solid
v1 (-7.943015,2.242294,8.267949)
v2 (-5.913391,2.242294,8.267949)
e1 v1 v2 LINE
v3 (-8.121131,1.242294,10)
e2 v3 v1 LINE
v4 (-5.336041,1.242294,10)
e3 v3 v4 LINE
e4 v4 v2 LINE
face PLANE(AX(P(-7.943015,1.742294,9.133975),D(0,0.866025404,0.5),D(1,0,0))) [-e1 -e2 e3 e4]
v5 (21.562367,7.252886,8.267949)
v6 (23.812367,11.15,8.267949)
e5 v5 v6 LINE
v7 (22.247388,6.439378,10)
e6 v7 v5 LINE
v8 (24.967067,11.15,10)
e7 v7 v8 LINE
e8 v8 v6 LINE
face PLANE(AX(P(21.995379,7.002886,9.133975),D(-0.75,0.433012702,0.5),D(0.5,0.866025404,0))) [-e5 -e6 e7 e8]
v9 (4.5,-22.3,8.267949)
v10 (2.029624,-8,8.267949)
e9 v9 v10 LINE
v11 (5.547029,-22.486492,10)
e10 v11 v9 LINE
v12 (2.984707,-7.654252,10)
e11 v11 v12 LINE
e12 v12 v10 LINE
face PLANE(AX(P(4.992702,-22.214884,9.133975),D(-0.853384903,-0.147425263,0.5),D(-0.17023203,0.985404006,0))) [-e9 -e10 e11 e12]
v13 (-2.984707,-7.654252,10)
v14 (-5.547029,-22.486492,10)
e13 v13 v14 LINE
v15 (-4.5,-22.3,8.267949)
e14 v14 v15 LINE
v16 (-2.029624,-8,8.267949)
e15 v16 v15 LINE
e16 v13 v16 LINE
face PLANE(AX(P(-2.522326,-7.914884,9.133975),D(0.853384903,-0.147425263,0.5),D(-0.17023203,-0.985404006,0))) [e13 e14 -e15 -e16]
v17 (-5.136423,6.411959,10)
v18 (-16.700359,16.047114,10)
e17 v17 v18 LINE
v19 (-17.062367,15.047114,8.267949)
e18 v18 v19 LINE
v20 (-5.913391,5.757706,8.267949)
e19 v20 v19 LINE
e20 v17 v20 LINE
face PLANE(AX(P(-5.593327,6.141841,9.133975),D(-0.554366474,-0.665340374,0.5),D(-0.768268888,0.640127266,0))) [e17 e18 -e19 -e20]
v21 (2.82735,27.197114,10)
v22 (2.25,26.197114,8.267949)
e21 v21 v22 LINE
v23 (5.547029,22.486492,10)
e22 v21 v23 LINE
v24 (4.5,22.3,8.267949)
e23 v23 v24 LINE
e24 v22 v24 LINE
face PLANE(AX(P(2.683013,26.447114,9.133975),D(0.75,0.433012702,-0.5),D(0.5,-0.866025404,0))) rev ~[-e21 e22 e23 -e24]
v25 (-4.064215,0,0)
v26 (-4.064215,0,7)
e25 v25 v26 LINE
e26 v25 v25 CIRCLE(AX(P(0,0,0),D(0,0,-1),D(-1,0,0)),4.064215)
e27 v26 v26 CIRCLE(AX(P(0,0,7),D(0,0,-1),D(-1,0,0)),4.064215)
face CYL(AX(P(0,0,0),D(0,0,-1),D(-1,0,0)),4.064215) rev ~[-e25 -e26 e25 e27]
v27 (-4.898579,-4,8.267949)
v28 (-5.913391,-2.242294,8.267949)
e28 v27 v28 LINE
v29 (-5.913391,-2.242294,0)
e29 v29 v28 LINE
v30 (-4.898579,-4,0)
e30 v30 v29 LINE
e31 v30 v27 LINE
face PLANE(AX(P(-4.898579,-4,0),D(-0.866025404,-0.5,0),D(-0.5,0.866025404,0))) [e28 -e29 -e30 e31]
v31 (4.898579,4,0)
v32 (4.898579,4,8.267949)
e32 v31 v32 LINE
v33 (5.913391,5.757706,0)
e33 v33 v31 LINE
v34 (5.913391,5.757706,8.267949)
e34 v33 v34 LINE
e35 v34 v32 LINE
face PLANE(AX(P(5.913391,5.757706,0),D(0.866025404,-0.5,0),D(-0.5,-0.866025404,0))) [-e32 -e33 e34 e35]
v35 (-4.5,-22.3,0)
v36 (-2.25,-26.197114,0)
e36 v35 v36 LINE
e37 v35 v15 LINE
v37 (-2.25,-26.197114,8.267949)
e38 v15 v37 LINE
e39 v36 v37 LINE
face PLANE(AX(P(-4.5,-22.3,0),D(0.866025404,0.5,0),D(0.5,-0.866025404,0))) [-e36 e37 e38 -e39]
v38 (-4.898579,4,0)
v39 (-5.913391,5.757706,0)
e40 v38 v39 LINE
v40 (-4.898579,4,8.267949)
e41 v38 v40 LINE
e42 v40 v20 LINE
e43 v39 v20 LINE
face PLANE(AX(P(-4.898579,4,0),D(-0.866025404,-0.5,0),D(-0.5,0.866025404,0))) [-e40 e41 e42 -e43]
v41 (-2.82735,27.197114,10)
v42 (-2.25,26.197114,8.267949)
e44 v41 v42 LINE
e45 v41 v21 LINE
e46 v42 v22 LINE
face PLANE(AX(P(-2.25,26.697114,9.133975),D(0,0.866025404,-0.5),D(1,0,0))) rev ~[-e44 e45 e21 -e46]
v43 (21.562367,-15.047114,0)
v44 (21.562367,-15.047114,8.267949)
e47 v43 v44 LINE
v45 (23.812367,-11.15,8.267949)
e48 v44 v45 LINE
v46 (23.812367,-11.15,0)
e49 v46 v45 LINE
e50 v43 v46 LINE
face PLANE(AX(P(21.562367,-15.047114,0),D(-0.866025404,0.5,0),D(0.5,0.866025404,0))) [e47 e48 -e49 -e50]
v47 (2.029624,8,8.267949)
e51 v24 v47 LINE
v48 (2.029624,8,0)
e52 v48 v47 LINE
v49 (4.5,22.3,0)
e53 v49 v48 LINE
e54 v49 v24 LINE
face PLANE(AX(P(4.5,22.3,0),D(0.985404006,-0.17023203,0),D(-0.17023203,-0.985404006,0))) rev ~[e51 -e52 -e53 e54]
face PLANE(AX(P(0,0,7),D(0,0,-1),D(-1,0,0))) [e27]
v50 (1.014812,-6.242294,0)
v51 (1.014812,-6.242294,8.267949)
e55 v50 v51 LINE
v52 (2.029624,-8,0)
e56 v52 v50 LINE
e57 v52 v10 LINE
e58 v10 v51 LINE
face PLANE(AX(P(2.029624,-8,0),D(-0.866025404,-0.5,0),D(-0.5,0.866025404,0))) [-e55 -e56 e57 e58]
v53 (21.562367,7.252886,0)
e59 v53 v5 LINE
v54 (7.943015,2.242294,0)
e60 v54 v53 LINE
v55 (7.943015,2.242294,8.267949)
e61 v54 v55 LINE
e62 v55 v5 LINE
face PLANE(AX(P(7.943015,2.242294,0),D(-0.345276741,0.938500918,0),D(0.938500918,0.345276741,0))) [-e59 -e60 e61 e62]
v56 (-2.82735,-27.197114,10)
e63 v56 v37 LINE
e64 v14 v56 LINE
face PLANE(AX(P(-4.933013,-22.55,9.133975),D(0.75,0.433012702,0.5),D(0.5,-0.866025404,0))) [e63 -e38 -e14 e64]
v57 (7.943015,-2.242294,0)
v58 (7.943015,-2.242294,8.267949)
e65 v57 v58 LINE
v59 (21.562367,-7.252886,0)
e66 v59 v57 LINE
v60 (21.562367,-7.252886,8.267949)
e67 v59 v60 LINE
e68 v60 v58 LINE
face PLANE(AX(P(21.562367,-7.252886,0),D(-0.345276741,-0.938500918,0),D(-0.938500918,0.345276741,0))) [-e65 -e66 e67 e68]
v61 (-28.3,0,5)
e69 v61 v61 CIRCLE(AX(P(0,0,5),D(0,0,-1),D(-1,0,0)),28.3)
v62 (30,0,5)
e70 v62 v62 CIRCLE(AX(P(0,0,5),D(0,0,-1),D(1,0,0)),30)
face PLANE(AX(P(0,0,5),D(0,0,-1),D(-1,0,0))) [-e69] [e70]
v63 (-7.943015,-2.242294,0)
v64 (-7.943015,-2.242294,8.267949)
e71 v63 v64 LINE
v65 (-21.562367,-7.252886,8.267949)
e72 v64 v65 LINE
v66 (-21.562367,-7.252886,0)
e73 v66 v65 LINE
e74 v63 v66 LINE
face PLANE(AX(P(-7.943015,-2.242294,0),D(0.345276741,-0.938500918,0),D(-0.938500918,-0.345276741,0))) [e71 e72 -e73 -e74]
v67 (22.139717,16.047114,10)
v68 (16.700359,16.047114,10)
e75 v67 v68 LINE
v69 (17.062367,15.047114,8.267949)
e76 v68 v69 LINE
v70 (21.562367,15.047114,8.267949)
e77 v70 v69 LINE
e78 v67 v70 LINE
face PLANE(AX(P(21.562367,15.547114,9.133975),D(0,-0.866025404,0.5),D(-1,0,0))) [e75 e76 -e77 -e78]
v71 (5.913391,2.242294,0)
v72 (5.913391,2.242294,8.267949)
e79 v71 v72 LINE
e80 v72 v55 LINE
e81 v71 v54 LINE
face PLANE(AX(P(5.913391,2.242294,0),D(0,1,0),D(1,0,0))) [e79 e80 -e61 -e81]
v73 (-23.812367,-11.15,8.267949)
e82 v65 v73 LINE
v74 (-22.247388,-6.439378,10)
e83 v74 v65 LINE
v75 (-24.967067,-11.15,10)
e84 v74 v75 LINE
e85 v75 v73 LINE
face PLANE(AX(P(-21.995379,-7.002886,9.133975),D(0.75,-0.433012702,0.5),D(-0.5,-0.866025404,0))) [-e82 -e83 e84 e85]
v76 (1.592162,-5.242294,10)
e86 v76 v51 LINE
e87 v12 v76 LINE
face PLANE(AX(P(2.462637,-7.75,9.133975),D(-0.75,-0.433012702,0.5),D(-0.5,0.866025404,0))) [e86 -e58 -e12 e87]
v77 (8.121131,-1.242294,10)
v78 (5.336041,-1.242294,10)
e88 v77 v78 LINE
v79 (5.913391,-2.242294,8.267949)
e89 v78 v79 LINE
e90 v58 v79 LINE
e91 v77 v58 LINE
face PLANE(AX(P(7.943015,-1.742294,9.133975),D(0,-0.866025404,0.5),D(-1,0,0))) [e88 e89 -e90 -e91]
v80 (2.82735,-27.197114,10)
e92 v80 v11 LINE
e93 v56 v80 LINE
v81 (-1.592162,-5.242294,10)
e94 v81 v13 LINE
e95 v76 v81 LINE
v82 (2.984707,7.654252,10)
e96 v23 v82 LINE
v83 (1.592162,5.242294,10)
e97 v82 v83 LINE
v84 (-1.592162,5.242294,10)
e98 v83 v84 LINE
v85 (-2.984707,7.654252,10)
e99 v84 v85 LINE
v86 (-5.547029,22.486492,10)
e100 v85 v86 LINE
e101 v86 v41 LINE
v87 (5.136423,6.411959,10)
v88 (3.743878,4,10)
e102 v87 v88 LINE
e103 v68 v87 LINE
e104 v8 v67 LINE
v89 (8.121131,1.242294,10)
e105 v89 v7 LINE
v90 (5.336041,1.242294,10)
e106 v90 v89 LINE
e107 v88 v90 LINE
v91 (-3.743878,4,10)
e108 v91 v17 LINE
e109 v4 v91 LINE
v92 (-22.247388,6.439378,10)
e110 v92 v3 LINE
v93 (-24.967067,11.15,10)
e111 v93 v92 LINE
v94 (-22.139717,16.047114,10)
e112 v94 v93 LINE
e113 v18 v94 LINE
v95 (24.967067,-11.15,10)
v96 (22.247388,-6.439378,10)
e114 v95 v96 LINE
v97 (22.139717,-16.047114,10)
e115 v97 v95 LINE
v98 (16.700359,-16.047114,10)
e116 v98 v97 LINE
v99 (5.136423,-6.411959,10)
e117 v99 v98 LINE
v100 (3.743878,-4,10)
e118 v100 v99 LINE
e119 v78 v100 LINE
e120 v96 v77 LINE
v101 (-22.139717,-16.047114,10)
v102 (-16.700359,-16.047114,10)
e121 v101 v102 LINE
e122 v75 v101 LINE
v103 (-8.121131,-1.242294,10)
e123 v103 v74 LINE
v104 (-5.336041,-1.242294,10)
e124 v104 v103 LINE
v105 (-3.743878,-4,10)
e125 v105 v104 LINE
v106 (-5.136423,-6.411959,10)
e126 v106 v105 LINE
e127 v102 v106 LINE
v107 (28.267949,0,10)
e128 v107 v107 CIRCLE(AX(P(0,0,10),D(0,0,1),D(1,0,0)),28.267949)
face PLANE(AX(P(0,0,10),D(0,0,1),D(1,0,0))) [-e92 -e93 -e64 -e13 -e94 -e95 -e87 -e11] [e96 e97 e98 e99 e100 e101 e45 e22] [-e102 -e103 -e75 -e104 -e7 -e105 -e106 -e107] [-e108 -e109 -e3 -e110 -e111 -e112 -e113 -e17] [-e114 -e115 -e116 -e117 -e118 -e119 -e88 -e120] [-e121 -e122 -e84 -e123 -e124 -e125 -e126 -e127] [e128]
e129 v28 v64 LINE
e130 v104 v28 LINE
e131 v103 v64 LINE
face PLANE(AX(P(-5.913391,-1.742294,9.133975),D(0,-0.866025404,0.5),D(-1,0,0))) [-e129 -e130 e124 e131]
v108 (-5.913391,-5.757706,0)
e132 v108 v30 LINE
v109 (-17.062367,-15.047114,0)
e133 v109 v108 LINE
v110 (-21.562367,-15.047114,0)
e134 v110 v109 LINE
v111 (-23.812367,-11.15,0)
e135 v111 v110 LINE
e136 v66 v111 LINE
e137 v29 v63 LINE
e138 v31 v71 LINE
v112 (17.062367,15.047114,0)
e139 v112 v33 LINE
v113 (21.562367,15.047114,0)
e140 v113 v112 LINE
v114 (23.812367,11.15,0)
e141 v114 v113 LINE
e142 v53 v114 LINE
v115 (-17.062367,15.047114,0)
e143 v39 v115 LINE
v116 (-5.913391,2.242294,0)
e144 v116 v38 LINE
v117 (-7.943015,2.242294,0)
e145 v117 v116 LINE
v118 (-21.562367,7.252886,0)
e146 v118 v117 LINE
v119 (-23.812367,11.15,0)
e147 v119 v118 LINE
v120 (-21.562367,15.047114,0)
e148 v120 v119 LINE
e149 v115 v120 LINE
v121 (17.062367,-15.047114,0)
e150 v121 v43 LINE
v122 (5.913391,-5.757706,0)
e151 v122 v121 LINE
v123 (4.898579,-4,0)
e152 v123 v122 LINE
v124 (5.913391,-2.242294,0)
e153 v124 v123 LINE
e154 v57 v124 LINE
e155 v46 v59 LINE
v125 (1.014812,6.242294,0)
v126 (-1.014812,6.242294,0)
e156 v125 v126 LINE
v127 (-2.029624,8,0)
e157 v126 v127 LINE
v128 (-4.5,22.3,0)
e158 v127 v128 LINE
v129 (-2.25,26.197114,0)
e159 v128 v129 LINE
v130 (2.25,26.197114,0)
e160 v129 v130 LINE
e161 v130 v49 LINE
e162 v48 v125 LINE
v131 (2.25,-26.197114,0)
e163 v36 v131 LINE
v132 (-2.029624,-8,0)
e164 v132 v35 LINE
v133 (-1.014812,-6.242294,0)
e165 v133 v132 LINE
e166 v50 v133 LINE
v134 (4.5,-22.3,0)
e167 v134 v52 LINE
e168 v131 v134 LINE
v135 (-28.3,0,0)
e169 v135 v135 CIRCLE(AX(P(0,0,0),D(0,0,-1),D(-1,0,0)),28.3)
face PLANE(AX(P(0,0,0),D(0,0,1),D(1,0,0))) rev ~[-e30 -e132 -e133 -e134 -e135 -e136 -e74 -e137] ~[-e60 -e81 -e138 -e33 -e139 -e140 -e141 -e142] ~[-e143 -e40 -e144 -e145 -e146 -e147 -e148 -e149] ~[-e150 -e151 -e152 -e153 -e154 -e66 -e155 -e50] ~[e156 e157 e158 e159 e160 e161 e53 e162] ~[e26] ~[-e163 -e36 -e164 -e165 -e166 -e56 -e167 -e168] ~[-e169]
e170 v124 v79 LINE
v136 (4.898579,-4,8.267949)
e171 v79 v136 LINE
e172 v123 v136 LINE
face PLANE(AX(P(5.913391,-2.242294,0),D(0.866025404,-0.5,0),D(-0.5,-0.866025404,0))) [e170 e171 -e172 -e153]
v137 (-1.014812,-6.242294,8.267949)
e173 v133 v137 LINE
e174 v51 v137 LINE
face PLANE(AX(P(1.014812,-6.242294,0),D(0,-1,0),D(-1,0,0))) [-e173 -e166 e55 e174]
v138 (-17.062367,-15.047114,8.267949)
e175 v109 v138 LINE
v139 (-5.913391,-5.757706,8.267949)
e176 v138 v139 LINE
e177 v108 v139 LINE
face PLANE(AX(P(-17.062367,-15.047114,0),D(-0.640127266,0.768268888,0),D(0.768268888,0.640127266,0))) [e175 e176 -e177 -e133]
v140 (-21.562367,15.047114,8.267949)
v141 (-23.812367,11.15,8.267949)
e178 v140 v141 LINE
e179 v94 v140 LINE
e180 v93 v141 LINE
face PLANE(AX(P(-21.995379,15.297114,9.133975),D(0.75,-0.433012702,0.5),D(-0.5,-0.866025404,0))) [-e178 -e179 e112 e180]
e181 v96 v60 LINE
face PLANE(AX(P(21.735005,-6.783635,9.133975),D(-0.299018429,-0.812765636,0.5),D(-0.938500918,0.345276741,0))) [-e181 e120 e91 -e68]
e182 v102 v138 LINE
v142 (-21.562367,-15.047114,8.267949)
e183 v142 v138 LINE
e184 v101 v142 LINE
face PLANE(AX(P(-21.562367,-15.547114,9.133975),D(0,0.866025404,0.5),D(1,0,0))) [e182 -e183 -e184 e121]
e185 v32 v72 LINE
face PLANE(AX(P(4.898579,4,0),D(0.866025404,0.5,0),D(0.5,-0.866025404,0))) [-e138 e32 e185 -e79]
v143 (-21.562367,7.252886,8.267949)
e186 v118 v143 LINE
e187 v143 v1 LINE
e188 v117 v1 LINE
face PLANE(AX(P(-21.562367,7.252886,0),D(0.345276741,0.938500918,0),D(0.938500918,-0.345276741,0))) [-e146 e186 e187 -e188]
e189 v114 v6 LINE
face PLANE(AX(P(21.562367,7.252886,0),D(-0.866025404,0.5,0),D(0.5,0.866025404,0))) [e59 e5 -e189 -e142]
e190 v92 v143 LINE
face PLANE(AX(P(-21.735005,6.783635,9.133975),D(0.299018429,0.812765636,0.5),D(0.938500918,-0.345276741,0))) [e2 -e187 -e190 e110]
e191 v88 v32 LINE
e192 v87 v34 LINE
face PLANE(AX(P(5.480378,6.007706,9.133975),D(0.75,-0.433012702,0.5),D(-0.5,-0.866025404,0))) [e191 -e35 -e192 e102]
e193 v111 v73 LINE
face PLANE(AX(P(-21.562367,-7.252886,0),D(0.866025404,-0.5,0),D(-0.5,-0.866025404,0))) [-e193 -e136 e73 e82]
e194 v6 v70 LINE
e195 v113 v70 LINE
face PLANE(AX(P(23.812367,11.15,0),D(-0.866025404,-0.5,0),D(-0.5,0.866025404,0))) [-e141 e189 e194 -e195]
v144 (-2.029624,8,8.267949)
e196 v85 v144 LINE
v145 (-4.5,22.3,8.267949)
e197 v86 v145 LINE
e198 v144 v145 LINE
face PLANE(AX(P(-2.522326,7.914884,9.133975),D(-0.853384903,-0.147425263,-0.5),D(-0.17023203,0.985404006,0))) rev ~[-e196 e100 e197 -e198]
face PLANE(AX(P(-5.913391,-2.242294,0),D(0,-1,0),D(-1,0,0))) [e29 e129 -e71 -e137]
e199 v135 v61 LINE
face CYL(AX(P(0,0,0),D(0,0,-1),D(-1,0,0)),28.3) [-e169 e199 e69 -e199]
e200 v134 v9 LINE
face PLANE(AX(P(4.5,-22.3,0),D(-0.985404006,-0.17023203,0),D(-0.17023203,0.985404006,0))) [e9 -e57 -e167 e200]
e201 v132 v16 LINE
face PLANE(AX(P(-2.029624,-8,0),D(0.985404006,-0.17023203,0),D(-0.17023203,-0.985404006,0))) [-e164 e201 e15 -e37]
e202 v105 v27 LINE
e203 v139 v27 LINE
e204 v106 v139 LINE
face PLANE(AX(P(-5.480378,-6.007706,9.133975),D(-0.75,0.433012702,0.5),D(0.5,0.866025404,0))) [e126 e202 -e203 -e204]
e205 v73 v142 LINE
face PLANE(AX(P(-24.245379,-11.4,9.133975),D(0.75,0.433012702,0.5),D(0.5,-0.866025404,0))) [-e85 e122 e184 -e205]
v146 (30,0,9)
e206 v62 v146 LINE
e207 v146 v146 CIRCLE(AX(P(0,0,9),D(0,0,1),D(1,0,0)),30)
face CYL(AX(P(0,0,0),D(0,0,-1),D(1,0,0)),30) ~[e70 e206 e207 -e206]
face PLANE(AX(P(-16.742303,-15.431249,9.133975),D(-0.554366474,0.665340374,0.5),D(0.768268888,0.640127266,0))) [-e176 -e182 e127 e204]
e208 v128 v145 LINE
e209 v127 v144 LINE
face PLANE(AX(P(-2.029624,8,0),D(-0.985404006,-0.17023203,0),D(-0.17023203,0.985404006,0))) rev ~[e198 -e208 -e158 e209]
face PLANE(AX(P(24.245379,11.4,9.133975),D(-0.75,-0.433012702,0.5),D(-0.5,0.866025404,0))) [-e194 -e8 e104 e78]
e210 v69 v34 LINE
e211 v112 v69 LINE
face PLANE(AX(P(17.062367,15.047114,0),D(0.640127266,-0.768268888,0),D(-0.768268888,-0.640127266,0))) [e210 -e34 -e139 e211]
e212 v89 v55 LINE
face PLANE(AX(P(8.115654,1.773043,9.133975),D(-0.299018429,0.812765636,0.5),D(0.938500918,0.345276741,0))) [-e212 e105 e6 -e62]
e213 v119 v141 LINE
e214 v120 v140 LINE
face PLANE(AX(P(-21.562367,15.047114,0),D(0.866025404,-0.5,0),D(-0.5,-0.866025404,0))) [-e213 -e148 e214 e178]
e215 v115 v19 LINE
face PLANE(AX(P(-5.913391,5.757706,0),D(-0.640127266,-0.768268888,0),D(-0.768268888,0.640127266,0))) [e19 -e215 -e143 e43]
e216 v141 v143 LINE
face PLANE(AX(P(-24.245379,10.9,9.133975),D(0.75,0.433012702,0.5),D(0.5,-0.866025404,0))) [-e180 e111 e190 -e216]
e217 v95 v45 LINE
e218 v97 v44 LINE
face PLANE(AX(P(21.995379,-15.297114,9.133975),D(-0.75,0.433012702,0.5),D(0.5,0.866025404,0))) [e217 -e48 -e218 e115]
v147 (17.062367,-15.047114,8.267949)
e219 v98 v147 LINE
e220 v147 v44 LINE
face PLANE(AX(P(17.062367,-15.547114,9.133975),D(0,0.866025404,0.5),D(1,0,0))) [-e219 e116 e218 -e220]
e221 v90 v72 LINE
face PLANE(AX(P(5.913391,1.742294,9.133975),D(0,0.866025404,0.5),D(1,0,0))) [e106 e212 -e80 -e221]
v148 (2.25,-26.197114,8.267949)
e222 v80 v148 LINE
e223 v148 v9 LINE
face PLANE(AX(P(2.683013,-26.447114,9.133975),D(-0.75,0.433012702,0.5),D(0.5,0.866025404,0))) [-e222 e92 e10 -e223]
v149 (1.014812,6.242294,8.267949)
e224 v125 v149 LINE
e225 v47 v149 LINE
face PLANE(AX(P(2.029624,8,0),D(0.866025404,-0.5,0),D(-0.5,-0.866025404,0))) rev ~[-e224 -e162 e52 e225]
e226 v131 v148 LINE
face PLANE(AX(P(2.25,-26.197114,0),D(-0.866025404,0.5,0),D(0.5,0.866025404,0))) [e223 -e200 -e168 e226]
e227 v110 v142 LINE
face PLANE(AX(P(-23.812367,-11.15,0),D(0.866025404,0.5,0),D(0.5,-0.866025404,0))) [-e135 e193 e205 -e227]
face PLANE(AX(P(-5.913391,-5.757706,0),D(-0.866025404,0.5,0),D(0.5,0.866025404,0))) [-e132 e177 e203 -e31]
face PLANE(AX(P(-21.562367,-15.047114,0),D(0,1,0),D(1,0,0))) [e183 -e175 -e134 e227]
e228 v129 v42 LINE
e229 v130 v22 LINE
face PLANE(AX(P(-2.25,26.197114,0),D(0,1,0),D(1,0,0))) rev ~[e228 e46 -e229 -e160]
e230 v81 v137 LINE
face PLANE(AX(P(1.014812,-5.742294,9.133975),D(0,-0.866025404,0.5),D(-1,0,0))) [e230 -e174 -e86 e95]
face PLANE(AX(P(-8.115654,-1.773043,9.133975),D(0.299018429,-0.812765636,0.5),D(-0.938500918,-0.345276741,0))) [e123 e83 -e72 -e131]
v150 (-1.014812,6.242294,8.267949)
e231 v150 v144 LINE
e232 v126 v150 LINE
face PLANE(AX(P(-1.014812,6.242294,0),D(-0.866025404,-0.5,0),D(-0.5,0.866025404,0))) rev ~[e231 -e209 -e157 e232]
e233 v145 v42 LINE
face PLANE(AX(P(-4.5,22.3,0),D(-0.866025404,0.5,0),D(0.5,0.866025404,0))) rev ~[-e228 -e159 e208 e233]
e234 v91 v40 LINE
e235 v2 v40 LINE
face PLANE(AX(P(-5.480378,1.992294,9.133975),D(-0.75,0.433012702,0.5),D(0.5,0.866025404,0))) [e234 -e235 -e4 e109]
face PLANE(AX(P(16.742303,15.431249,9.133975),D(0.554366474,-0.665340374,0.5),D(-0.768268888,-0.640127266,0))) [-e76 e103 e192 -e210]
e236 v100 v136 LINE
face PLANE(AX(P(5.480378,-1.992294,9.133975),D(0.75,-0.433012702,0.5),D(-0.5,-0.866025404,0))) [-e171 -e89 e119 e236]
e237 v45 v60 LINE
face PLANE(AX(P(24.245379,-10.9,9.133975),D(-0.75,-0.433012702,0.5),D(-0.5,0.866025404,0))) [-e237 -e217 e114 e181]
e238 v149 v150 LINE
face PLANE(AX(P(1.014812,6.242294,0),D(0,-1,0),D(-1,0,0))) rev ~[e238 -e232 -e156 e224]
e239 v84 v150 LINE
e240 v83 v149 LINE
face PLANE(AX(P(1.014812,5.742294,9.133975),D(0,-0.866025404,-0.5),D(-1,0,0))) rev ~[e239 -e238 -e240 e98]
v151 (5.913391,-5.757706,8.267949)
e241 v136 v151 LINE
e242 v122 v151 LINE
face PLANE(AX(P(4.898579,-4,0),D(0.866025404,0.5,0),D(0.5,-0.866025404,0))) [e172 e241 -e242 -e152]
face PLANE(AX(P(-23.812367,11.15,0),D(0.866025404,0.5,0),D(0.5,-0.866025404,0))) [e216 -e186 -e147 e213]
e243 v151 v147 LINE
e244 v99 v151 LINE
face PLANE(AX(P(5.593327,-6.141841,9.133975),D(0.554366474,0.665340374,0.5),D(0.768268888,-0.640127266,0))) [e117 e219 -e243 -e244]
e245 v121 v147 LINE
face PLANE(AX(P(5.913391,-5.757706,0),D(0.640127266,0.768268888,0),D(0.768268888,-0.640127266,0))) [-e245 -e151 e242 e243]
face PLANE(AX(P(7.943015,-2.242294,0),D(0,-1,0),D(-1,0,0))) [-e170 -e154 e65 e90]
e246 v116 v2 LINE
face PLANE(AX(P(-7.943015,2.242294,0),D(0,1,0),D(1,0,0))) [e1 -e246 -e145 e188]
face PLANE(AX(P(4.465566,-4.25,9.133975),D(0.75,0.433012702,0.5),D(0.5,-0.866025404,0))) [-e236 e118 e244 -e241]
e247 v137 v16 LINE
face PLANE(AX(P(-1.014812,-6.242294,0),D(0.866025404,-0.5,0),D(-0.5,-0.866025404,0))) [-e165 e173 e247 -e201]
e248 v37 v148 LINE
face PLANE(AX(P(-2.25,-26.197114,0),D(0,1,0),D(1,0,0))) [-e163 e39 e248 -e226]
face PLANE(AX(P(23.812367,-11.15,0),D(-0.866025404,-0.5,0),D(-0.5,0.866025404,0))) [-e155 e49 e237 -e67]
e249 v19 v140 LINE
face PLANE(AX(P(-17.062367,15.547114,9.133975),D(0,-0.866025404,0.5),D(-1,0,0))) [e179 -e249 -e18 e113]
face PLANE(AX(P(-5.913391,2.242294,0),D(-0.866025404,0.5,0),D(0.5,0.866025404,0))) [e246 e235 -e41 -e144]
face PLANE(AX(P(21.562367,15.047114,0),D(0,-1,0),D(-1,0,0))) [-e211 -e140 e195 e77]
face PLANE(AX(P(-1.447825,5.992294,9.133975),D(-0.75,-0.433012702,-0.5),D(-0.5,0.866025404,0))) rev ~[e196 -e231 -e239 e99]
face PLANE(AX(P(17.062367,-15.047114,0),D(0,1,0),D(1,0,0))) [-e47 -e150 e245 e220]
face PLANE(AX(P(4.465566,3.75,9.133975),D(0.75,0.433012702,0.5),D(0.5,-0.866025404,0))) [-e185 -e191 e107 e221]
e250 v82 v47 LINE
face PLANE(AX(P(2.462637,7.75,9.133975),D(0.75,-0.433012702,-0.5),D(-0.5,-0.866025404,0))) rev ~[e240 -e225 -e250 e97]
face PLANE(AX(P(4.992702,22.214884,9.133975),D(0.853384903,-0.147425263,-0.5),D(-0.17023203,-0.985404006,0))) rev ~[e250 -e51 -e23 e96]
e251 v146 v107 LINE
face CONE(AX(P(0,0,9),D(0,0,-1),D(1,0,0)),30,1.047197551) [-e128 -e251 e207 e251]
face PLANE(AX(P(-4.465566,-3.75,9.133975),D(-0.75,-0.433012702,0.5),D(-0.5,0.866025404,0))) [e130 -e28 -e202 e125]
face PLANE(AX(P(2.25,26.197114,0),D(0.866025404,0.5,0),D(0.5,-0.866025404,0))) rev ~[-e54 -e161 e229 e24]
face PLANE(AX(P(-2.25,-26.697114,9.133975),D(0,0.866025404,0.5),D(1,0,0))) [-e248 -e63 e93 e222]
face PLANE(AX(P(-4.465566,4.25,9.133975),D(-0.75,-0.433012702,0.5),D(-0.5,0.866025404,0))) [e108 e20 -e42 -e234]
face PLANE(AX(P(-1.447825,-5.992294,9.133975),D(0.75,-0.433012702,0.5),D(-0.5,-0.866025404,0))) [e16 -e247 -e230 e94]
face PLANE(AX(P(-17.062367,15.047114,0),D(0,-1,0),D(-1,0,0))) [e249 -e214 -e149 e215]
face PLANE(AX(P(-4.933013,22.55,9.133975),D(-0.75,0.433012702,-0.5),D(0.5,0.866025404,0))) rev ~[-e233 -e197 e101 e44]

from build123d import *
from OCP.BRepFilletAPI import BRepFilletAPI_MakeChamfer

# Parameters (mm, degrees)
SKETCH_1_R          = 30
EXTRUDE_1_DEPTH     = 10
SKETCH_3_R          = 4.064215012
CUT_EXTRUDE_1_DEPTH = 7
SKETCH_4_OUTSIDE_W  = 79.088
SKETCH_4_OUTSIDE_H  = 79.088
SKETCH_4_OUTSIDE_R  = 28.3
CUT_EXTRUDE_2_DEPTH = 5
CHAMFER_2_SIZE      = 1
CHAMFER_2_SIZE2     = 1.732050808


with BuildPart() as part:
    # 스케치1 → 보스-돌출1 (new body)
    with BuildSketch(Plane.XY):
        Circle(SKETCH_1_R)
        Polygon((4.5, 22.3), (2.029624384, 8), (1.014812192, 6.242293723), (-1.014812192, 6.242293723), (-2.029624384, 8), (-4.5, 22.3), (-2.25, 26.197114317), (2.25, 26.197114317), align=None, mode=Mode.SUBTRACT)
        Polygon((23.812366504, 11.15), (21.562366504, 15.047114317), (17.062366504, 15.047114317), (5.913391038, 5.757706277), (4.898578846, 4), (5.913391038, 2.242293723), (7.943015422, 2.242293723), (21.562366504, 7.252885683), align=None, mode=Mode.SUBTRACT)
        Polygon((21.562366504, -15.047114317), (23.812366504, -11.15), (21.562366504, -7.252885683), (7.943015422, -2.242293723), (5.913391038, -2.242293723), (4.898578846, -4), (5.913391038, -5.757706277), (17.062366504, -15.047114317), align=None, mode=Mode.SUBTRACT)
        Polygon((-2.25, -26.197114317), (2.25, -26.197114317), (4.5, -22.3), (2.029624384, -8), (1.014812192, -6.242293723), (-1.014812192, -6.242293723), (-2.029624384, -8), (-4.5, -22.3), align=None, mode=Mode.SUBTRACT)
        Polygon((-23.812366504, -11.15), (-21.562366504, -15.047114317), (-17.062366504, -15.047114317), (-5.913391038, -5.757706277), (-4.898578846, -4), (-5.913391038, -2.242293723), (-7.943015422, -2.242293723), (-21.562366504, -7.252885683), align=None, mode=Mode.SUBTRACT)
        Polygon((-21.562366504, 15.047114317), (-23.812366504, 11.15), (-21.562366504, 7.252885683), (-7.943015422, 2.242293723), (-5.913391038, 2.242293723), (-4.898578846, 4), (-5.913391038, 5.757706277), (-17.062366504, 15.047114317), align=None, mode=Mode.SUBTRACT)
    extrude(amount=EXTRUDE_1_DEPTH)

    # 스케치3 → 컷-돌출1 (cut)
    with BuildSketch(Plane(origin=(0, 0, 0), x_dir=(-1, 0, 0), z_dir=(0, 0, -1))):
        Circle(SKETCH_3_R)
    extrude(amount=-CUT_EXTRUDE_1_DEPTH, mode=Mode.SUBTRACT)

    # 스케치4 outside → 컷-돌출2 (cut)
    with BuildSketch(Plane(origin=(0, 0, 0), x_dir=(-1, 0, 0), z_dir=(0, 0, -1))):
        Rectangle(SKETCH_4_OUTSIDE_W, SKETCH_4_OUTSIDE_H)
        Circle(SKETCH_4_OUTSIDE_R, mode=Mode.SUBTRACT)
    extrude(amount=-CUT_EXTRUDE_2_DEPTH, mode=Mode.SUBTRACT)

    # 모따기2: one chamfer whose edges measure the first distance from different faces: ONE call of the kernel's chamfer builder (chamfer() names one face for all edges)
    chamfer_2_edges_1 = [part.edges().sort_by_distance(p)[0] for p in [
        (5.405984942, -3.121146861, 10),
        (1.522218288, -7.121146861, 10),
        (1.522218288, 7.121146861, 10),
        (3.264812192, -15.15, 10),
        (3.375, -24.248557159, 10),
        (0, -26.197114317, 10),
        (-3.375, -24.248557159, 10),
        (-3.264812192, -15.15, 10),
        (-1.522218288, -7.121146861, 10),
        (0, -6.242293723, 10),
        (-5.405984942, -4.878853139, 10),
        (-11.487878771, -10.402410297, 10),
        (-19.312366504, -15.047114317, 10),
        (0, 6.242293723, 10),
        (-22.687366504, -13.098557159, 10),
        (-22.687366504, -9.201442841, 10),
        (-14.752690963, -4.747589703, 10),
        (-6.92820323, -2.242293723, 10),
        (-5.405984942, -3.121146861, 10),
        (-6.92820323, 2.242293723, 10),
        (-14.752690963, 4.747589703, 10),
        (-22.687366504, 9.201442841, 10),
        (-22.687366504, 13.098557159, 10),
        (-19.312366504, 15.047114317, 10),
        (-1.522218288, 7.121146861, 10),
        (-11.487878771, 10.402410297, 10),
        (-5.405984942, 4.878853139, 10),
        (-5.405984942, 3.121146861, 10),
        (-3.264812192, 15.15, 10),
        (-3.375, 24.248557159, 10),
        (0, 26.197114317, 10),
        (3.375, 24.248557159, 10),
        (3.264812192, 15.15, 10),
        (5.405984942, 4.878853139, 10),
        (11.487878771, 10.402410297, 10),
        (19.312366504, 15.047114317, 10),
        (22.687366504, 13.098557159, 10),
        (22.687366504, 9.201442841, 10),
        (14.752690963, 4.747589703, 10),
        (6.92820323, 2.242293723, 10),
        (5.405984942, 3.121146861, 10),
        (6.92820323, -2.242293723, 10),
        (14.752690963, -4.747589703, 10),
        (22.687366504, -9.201442841, 10),
        (22.687366504, -13.098557159, 10),
        (19.312366504, -15.047114317, 10),
        (11.487878771, -10.402410297, 10),
        (5.405984942, -4.878853139, 10),
    ]]
    chamfer_2_side_1 = [part.faces().sort_by_distance(p)[0] for p in [
        (0, 0, 10),
    ]]
    chamfer_2_edges_2 = [part.edges().sort_by_distance(p)[0] for p in [
        (-30, 0, 10),
    ]]
    chamfer_2_side_2 = [part.faces().sort_by_distance(p)[0] for p in [
        (-30, 0, 7.5),
    ]]
    chamfer_2 = BRepFilletAPI_MakeChamfer(part.part.solid().wrapped)
    for e in chamfer_2_edges_1:
        chamfer_2.Add(CHAMFER_2_SIZE, CHAMFER_2_SIZE2, e.wrapped, chamfer_2_side_1[0].wrapped)  # the first distance lies on this face
    for e in chamfer_2_edges_2:
        chamfer_2.Add(CHAMFER_2_SIZE, CHAMFER_2_SIZE2, e.wrapped, chamfer_2_side_2[0].wrapped)  # the first distance lies on this face
    add(Compound.cast(chamfer_2.Shape()), mode=Mode.REPLACE)


solid = part.part
